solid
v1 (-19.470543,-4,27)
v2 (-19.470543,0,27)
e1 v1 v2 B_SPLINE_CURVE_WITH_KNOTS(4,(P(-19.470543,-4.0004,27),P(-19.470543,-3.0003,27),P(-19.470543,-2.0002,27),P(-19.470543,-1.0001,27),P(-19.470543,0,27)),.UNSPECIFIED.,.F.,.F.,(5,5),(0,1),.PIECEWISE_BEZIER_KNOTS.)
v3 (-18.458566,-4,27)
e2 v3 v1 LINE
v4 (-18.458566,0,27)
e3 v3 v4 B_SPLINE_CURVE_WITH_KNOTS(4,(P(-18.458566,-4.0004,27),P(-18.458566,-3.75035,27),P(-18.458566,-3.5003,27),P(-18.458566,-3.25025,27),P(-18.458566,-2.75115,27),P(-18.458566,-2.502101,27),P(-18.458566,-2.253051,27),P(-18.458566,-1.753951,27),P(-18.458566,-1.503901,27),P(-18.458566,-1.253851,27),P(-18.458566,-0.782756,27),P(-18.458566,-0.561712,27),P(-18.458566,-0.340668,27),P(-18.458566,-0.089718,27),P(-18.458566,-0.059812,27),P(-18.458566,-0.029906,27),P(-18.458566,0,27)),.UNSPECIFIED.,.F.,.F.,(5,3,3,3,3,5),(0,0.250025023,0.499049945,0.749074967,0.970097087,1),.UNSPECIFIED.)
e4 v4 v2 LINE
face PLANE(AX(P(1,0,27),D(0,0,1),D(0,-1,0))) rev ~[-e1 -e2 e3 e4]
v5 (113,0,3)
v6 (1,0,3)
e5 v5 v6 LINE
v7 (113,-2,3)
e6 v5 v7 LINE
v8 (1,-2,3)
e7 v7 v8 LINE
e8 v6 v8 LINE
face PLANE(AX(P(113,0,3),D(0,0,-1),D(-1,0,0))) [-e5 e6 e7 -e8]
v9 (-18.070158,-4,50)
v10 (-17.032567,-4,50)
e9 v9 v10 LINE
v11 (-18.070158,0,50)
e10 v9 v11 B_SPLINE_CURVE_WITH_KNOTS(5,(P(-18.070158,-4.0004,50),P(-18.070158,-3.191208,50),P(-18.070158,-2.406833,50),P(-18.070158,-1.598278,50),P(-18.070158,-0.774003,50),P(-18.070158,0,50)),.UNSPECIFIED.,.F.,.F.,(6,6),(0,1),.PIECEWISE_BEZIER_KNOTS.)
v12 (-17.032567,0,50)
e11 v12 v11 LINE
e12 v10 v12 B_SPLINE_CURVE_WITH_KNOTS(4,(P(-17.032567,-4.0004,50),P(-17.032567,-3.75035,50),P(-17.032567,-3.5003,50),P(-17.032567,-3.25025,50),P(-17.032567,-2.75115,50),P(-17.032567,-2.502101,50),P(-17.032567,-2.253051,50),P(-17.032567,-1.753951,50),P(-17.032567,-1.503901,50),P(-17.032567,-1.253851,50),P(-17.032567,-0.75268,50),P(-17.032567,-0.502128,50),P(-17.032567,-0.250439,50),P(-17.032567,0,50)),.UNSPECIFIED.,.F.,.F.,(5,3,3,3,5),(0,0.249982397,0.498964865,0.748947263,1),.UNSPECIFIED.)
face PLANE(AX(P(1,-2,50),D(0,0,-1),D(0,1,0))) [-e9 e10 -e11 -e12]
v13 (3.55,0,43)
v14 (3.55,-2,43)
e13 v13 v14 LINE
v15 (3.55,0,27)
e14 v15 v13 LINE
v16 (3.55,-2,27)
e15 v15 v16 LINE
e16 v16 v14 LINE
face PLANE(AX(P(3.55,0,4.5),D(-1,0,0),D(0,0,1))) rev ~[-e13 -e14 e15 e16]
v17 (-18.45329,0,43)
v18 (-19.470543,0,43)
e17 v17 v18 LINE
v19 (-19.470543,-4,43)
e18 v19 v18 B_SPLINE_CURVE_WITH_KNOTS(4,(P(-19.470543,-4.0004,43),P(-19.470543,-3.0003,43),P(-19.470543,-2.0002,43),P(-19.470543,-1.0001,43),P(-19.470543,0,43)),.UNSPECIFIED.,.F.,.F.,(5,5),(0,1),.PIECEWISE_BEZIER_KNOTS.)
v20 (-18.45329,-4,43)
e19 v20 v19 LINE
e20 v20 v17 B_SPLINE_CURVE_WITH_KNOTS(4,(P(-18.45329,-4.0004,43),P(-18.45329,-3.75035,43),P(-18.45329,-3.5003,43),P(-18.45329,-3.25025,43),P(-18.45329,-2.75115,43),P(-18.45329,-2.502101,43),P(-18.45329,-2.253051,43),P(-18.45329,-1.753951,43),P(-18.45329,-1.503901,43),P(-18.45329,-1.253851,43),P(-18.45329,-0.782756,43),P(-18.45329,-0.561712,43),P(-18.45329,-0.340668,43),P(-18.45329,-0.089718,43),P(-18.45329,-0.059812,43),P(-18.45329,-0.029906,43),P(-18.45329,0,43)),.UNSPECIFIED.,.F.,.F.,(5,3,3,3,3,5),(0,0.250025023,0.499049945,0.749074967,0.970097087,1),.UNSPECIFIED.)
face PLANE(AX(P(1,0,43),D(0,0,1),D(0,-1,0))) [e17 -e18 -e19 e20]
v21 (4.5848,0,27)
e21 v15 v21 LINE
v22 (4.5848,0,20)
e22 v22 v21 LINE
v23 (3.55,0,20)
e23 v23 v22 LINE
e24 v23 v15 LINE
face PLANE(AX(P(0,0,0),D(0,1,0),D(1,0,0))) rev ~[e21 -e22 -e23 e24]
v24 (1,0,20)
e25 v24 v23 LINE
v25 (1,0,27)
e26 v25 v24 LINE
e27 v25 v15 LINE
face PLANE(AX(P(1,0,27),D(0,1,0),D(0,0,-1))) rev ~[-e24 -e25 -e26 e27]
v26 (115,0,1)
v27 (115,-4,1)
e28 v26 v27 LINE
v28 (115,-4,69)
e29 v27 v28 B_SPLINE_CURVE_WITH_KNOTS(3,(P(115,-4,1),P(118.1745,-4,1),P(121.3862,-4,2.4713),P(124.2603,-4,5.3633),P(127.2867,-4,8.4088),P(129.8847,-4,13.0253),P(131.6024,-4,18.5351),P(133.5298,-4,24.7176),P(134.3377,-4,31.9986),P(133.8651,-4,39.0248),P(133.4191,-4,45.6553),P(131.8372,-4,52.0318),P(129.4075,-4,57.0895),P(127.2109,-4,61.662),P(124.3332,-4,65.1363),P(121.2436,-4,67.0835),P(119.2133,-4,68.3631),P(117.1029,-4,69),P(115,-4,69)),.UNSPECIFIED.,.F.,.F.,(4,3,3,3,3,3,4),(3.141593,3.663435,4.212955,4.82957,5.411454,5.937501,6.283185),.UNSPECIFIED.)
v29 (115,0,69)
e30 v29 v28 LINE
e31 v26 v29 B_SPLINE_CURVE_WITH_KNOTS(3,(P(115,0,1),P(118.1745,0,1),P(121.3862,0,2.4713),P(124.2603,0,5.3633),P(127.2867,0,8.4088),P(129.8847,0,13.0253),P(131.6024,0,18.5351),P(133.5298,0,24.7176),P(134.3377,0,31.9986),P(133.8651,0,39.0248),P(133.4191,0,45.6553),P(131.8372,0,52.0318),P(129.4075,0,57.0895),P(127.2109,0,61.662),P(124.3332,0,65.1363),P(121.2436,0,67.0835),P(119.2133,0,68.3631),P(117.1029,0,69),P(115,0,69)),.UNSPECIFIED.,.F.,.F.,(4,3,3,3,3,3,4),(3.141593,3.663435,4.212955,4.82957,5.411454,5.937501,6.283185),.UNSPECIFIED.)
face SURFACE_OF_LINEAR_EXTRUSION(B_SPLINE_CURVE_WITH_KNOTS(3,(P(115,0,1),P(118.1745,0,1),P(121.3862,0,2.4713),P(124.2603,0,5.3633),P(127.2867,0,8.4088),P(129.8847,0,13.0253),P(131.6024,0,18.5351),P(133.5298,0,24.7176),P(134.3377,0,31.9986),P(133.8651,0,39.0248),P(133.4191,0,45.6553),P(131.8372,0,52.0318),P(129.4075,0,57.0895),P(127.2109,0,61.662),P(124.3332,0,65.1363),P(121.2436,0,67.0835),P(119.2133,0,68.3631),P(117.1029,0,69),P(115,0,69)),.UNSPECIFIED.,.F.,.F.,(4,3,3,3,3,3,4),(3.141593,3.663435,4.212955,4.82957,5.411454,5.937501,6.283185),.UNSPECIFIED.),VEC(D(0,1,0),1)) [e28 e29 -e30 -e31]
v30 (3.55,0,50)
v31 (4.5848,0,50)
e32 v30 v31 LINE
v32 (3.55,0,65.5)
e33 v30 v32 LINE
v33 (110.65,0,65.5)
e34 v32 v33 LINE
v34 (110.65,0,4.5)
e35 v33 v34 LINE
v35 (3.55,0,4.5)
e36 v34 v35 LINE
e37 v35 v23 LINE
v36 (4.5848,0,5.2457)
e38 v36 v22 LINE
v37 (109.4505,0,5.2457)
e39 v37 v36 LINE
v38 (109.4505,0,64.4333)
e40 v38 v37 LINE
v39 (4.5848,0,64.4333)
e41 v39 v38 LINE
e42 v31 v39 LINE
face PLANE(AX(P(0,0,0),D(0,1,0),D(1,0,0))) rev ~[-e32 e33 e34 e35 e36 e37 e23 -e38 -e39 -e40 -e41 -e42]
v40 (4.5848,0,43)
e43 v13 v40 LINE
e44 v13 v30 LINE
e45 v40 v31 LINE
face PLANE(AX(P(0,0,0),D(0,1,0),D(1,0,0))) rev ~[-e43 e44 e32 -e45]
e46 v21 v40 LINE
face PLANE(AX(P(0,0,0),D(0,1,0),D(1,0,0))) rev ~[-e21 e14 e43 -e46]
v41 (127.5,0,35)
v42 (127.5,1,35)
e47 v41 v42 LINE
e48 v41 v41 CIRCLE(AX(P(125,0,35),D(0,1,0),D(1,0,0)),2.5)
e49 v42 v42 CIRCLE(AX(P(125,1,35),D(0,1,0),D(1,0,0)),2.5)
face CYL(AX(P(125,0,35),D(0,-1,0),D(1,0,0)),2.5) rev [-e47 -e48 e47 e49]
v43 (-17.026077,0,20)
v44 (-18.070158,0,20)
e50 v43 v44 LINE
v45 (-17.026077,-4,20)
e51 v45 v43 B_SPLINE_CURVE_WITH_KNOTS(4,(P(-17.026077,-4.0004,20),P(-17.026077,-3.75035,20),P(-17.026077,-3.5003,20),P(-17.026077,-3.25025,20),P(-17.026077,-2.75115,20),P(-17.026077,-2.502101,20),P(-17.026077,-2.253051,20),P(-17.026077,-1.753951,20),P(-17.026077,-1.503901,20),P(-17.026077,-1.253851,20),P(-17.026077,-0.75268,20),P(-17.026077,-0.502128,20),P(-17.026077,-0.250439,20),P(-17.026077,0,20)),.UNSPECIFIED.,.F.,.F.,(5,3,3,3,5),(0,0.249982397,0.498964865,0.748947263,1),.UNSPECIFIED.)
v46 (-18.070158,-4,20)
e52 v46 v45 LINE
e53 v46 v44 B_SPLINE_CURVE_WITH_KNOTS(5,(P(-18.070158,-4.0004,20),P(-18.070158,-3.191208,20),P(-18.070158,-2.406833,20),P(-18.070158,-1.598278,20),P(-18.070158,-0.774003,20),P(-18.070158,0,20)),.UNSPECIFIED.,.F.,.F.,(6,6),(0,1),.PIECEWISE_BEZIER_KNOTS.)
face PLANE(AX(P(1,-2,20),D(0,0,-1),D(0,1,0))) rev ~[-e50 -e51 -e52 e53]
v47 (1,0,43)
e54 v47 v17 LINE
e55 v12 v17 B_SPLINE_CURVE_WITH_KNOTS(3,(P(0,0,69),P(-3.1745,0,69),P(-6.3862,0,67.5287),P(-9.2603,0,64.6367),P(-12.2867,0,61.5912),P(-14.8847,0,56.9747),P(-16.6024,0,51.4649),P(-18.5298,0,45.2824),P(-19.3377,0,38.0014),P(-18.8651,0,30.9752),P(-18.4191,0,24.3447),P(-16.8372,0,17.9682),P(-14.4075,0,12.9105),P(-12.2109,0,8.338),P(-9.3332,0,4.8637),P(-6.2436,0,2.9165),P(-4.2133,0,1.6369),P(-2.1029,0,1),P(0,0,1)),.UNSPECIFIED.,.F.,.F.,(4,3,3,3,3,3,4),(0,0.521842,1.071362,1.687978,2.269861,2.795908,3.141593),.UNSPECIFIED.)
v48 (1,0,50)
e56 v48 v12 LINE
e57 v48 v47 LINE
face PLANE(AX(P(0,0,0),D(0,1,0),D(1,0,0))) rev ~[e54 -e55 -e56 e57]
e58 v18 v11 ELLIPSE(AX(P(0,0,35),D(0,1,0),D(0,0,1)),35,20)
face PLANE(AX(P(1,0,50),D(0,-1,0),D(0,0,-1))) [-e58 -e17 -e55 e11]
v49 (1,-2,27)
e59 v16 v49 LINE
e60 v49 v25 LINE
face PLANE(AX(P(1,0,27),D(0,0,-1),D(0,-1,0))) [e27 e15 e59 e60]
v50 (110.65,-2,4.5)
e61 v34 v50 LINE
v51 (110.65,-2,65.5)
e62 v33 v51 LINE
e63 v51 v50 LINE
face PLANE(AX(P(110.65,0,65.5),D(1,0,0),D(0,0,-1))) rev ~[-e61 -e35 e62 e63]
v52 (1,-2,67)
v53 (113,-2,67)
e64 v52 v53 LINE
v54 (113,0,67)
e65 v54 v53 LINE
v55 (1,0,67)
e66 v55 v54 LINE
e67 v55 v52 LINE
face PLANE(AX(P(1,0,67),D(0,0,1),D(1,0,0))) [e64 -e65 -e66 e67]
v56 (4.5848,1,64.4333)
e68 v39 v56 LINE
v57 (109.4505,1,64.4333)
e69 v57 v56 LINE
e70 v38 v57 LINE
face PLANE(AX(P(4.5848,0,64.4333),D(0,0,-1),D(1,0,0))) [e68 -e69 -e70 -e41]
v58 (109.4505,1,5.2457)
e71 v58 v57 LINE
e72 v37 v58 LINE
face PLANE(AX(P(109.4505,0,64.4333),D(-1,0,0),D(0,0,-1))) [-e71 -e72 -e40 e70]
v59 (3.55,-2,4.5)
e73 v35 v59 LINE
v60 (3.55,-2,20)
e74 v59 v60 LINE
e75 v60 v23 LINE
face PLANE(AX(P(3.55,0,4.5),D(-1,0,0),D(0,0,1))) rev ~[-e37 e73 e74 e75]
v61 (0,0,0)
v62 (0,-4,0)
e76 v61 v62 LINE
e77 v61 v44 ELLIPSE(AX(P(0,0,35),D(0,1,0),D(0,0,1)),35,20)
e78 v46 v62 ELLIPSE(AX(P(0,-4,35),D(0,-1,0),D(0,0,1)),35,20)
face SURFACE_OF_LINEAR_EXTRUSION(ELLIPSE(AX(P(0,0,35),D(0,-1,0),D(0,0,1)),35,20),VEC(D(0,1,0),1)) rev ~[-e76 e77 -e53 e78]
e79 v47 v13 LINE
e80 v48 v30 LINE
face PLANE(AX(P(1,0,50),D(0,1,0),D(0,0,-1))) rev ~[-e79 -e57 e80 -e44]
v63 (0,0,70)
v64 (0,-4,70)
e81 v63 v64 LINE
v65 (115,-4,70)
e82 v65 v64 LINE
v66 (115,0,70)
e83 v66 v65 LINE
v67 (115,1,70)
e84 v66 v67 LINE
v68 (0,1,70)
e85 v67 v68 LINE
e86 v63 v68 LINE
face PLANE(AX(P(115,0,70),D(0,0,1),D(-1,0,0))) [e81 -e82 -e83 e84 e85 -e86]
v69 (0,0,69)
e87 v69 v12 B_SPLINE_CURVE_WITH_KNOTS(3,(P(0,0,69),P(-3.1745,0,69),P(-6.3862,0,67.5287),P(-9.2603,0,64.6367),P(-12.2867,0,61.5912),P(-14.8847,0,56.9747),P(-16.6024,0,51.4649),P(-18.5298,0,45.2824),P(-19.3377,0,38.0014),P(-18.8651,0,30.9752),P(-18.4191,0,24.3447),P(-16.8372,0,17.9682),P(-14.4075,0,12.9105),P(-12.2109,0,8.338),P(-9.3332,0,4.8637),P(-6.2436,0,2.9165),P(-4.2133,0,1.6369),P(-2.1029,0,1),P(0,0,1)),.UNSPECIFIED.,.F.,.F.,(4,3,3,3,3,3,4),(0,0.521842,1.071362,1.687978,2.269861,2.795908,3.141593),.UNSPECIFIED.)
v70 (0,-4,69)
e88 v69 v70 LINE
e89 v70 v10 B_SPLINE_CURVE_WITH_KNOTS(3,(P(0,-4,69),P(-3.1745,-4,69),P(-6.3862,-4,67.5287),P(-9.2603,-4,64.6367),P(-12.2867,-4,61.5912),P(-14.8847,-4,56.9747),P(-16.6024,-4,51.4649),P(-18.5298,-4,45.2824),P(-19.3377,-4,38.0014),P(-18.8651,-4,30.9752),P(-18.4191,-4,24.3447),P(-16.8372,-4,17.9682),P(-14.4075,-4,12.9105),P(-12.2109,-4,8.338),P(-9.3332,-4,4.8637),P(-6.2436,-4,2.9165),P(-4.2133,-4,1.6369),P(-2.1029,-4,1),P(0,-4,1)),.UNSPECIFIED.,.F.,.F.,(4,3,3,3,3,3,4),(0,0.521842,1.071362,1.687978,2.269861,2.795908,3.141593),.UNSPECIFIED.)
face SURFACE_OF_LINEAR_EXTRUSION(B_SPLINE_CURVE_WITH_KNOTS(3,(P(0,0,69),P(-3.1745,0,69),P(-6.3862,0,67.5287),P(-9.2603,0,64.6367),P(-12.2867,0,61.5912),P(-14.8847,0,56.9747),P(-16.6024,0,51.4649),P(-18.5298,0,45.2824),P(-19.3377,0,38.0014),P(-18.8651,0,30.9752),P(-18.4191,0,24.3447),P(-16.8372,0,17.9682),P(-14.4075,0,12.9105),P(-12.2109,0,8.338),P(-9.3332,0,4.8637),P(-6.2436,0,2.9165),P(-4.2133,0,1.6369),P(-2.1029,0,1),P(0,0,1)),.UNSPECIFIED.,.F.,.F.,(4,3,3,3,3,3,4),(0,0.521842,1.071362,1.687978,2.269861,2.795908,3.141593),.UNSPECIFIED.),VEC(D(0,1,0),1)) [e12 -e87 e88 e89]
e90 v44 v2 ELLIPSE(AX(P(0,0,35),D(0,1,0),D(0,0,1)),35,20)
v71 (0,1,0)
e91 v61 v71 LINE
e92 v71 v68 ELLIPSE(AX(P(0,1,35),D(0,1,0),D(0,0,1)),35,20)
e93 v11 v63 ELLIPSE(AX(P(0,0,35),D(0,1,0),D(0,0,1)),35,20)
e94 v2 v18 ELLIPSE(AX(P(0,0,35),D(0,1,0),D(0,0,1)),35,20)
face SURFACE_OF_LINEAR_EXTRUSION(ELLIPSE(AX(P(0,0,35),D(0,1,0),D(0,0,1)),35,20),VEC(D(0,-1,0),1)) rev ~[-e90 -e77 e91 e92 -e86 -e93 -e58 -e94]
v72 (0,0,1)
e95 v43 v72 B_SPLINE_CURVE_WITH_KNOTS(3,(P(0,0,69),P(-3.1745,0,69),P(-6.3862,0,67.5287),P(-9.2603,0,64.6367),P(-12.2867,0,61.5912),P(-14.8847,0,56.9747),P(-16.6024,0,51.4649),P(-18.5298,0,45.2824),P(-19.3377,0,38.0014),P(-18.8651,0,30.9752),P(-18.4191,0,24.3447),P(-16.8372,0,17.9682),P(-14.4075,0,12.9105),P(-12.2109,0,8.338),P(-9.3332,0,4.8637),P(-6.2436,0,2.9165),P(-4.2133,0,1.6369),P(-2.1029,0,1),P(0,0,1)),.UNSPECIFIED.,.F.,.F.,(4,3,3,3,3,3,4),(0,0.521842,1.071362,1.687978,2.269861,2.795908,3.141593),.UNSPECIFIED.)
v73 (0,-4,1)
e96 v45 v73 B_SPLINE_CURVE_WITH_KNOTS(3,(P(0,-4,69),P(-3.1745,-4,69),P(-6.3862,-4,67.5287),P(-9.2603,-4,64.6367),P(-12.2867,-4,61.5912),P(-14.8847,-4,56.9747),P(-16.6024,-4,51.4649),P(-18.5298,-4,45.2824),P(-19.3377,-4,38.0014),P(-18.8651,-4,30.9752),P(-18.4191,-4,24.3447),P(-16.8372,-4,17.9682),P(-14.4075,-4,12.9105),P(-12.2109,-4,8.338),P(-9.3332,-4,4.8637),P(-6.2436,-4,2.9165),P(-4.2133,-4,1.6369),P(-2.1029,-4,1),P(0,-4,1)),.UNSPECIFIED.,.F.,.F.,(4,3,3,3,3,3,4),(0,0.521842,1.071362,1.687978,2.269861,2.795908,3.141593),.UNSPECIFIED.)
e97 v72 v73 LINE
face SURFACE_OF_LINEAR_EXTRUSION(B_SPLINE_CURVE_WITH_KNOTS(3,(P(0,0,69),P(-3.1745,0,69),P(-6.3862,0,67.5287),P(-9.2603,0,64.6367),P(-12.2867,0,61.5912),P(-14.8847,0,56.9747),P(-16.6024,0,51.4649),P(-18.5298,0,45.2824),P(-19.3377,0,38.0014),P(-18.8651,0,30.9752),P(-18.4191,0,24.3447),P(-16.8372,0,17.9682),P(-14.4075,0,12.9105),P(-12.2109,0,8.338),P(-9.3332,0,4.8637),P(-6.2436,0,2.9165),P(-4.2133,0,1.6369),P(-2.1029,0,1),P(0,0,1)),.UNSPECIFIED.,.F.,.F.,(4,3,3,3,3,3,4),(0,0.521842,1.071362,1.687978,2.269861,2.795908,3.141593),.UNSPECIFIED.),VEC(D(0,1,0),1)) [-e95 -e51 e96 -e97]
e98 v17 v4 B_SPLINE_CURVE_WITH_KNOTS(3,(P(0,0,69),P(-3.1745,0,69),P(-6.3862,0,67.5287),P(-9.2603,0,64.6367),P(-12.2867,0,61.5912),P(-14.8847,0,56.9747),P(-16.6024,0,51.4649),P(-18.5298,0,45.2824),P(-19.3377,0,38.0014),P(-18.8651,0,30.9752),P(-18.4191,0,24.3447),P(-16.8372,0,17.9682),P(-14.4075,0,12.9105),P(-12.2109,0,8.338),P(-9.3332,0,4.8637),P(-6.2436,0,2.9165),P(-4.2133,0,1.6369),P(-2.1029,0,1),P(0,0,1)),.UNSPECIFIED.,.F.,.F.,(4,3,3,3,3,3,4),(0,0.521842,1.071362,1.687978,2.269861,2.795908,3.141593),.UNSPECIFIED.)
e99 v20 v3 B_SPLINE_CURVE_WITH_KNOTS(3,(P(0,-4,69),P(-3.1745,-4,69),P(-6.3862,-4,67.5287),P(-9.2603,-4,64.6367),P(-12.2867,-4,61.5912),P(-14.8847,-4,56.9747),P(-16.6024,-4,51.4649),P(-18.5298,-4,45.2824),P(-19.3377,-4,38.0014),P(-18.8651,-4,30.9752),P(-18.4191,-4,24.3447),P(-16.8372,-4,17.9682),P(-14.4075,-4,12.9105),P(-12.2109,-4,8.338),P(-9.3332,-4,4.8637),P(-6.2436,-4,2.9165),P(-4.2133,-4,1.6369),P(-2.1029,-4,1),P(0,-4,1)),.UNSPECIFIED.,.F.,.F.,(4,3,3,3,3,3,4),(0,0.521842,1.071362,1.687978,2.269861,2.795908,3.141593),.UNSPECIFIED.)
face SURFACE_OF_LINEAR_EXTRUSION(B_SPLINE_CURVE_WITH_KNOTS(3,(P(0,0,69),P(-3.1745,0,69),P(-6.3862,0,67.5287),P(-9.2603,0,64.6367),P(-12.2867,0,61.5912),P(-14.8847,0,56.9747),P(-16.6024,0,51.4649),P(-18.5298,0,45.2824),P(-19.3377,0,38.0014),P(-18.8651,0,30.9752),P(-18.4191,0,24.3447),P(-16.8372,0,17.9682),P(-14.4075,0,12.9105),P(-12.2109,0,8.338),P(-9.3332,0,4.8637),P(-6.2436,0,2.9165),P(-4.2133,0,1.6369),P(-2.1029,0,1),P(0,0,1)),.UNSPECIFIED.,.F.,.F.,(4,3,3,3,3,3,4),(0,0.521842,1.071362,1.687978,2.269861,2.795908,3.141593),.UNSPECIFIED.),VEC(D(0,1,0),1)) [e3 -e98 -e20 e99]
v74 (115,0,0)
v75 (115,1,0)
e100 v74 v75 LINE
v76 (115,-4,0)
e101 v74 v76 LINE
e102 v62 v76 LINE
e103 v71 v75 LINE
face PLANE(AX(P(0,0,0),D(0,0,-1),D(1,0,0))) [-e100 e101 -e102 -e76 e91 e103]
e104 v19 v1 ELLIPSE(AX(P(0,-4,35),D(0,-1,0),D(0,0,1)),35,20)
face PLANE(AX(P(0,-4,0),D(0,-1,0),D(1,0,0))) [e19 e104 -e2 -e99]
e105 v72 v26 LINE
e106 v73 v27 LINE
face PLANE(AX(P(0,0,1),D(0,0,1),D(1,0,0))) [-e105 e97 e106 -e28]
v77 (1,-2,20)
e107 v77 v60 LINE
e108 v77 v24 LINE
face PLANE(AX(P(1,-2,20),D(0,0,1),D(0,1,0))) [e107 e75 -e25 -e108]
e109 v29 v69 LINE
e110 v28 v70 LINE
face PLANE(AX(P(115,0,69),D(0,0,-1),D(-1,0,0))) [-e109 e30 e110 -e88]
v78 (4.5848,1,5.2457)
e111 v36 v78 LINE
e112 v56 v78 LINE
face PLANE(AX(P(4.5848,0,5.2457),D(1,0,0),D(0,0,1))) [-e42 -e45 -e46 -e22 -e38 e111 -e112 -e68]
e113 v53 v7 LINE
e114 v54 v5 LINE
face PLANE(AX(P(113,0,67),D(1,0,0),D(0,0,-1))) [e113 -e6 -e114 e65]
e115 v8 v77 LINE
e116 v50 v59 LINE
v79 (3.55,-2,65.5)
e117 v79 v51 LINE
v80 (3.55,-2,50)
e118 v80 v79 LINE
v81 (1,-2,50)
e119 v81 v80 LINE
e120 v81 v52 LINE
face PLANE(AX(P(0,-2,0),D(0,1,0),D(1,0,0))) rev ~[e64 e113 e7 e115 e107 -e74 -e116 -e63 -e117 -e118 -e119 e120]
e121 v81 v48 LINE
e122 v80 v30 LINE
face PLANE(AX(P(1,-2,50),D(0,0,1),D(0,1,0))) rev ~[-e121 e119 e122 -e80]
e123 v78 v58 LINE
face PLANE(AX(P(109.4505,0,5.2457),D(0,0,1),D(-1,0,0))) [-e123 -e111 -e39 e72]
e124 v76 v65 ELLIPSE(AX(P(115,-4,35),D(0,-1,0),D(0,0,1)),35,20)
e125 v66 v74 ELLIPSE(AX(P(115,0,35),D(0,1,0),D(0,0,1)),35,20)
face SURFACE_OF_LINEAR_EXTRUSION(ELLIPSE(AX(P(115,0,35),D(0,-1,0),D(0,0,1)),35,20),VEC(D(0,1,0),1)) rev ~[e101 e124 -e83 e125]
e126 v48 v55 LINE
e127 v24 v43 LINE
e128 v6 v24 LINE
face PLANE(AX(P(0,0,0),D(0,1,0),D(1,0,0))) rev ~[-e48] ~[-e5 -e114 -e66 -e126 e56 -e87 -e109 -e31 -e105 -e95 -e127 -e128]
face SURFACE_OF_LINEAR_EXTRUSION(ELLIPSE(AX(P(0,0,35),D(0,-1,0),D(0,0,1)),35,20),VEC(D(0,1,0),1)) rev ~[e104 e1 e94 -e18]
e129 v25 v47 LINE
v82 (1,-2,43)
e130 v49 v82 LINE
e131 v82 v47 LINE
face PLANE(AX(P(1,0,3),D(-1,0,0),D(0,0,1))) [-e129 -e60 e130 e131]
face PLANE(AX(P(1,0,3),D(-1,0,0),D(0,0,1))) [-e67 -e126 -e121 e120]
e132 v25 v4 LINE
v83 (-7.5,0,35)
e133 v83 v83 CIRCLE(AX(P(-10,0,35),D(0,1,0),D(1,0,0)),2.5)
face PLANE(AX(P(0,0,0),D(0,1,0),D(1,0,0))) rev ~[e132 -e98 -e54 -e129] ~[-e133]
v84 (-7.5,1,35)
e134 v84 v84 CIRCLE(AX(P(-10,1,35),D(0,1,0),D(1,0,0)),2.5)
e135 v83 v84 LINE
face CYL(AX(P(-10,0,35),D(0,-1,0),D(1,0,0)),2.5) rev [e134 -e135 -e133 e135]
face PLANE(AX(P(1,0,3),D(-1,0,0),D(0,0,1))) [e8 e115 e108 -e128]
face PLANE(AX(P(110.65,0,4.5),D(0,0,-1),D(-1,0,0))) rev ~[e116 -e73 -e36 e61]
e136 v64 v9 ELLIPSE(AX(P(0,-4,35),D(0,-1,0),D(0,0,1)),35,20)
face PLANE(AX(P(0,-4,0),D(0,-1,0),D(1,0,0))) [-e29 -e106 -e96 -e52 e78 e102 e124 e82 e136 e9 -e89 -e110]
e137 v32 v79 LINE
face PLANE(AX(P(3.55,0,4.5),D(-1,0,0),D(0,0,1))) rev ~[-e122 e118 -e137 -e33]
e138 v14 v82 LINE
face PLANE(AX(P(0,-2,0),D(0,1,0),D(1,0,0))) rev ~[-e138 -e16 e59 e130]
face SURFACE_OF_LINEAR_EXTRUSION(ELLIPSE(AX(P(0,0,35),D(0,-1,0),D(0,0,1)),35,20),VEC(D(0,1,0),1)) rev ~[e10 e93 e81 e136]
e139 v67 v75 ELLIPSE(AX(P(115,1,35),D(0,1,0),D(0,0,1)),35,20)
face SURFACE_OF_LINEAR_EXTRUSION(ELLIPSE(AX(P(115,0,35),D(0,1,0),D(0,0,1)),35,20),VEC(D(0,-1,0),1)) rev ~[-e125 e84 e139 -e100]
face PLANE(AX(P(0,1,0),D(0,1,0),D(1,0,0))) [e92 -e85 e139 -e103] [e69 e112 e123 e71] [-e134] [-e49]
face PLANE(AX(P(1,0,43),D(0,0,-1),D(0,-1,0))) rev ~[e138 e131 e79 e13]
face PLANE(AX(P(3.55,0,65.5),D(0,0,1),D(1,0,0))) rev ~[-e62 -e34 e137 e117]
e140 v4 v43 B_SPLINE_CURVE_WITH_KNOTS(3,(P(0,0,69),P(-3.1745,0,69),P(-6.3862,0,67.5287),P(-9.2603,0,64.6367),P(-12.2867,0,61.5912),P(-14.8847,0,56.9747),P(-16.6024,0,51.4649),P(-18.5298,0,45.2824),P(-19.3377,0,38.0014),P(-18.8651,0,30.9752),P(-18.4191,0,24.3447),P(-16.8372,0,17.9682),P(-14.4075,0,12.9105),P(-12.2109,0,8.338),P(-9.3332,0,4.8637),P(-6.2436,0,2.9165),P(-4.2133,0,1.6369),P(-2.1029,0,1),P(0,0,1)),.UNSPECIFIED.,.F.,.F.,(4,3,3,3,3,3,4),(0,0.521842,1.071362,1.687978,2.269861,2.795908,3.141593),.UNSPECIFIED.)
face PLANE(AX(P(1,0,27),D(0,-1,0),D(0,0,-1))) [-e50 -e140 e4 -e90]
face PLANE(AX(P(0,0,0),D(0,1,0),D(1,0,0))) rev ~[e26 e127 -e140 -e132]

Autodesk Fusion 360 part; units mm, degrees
sketch "Sketch1" plane through (0, 0, 0) normal (0, 1, 0) x (1, 0, 0)
  line L0 (0, 0) -> (115, 0)
  line L1 (115, -70) -> (0, -70)
  ellipse E0 centre (0, -35) end of major axis (0, -70) minor radius 20 (0, 0) -> (0, -70) ccw
  ellipse E1 centre (115, -35) end of major axis (115, -70) minor radius 20 (115, -70) -> (115, 0) ccw
  circle A0 centre (-10, -35) radius 2.5
  circle A1 centre (125, -35) radius 2.5
  dimension "d1" = 20
  dimension "d2" = 5
  dimension "d3" = 10
extrude "Extrude1" add sketch "Sketch1" along normal blind 1
sketch "Sketch3" plane through (0, 0, 0) normal (0, -1, 0) x (1, 0, 0)
  circle A0 centre (-10, 35) radius 2.5
  circle A1 centre (125, 35) radius 2.5
  ellipse E0 centre (0, 35) end of major axis (0, 70) minor radius 20 (0, 70) -> (0, 0) ccw
  line L0 (0, 0) -> (115, 0)
  ellipse E1 centre (115, 35) end of major axis (115, 70) minor radius 20 (115, 0) -> (115, 70) ccw
  line L1 (115, 70) -> (0, 70)
  line L2 (0, 1) -> (115, 1)
  spline S0 degree 3 poles (115, 1) (118.1745, 1) (121.3862, 2.4713) (124.2603, 5.3633) (127.2867, 8.4088) (129.8847, 13.0253) (131.6024, 18.5351) (133.5298, 24.7176) (134.3377, 31.9986) (133.8651, 39.0248) (133.4191, 45.6553) (131.8372, 52.0318) (129.4075, 57.0895) (127.2109, 61.662) (124.3332, 65.1363) (121.2436, 67.0835) (119.2133, 68.3631) (117.1029, 69) (115, 69) knots 3.141593 3.141593 3.141593 3.141593 3.663435 3.663435 3.663435 4.212955 4.212955 4.212955 4.82957 4.82957 4.82957 5.411454 5.411454 5.411454 5.937501 5.937501 5.937501 6.283185 6.283185 6.283185 6.283185
  line L3 (115, 69) -> (0, 69)
  spline S1 degree 3 poles (0, 69) (-3.1745, 69) (-6.3862, 67.5287) (-9.2603, 64.6367) (-12.2867, 61.5912) (-14.8847, 56.9747) (-16.6024, 51.4649) (-18.5298, 45.2824) (-19.3377, 38.0014) (-18.8651, 30.9752) (-18.4191, 24.3447) (-16.8372, 17.9682) (-14.4075, 12.9105) (-12.2109, 8.338) (-9.3332, 4.8637) (-6.2436, 2.9165) (-4.2133, 1.6369) (-2.1029, 1) (0, 1) knots 0 0 0 0 0.521842 0.521842 0.521842 1.071362 1.071362 1.071362 1.687978 1.687978 1.687978 2.269861 2.269861 2.269861 2.795908 2.795908 2.795908 3.141593 3.141593 3.141593 3.141593
  dimension "d6" = -1
extrude "Extrude2" add sketch "Sketch3" along normal blind 4 contours E0 L0 E1 L1
sketch "Sketch4" plane through (0, 0, 0) normal (0, 1, 0) x (1, 0, 0)
  line L0 (3.55, -65.5) -> (110.65, -65.5)
  line L1 (110.65, -65.5) -> (110.65, -4.5)
  line L2 (110.65, -4.5) -> (3.55, -4.5)
  line L3 (3.55, -4.5) -> (3.55, -65.5)
  line L4 (115, -1) -> (0, -1)
  line L5 (1, -67) -> (113, -67)
  line L6 (113, -67) -> (113, -3)
  line L7 (113, -3) -> (1, -3)
  line L8 (1, -3) -> (1, -67)
  point P0 (0, -35)
  dimension "d9" = 61
  dimension "d10" = 107.1
  dimension "d11" = 3.55
  dimension "d12" = 3.5
extrude "Extrude3" add sketch "Sketch4" against normal blind 2
sketch "Sketch5" plane through (0, 0, 0) normal (0, 1, 0) x (-1, 0, 0)
  line L0 (-4.5848, 64.4333) -> (-109.4505, 64.4333)
  line L1 (-109.4505, 64.4333) -> (-109.4505, 5.2457)
  line L2 (-109.4505, 5.2457) -> (-4.5848, 5.2457)
  line L3 (-4.5848, 5.2457) -> (-4.5848, 64.4333)
extrude "Extrude4" cut sketch "Sketch5" along normal blind 10
sketch "Sketch6" plane through (1, 0, 0) normal (-1, 0, 0) x (0, -1, 0)
  line L0 (0, 67) -> (0, 3)
  line L1 (0, 3) -> (2, 3)
  line L2 (2, 3) -> (2, 67)
  line L3 (2, 67) -> (0, 67)
  line L4 (-3, 27) -> (6, 27)
  line L5 (6, 27) -> (6, 20)
  line L6 (6, 20) -> (-3, 20)
  line L7 (-3, 20) -> (-3, 27)
  line L8 (0, 35) -> (9, 35)
  line L9 (-3, 43) -> (6, 43)
  line L10 (6, 43) -> (6, 50)
  line L11 (6, 50) -> (-3, 50)
  line L12 (-3, 50) -> (-3, 43)
extrude "Extrude5" cut sketch "Sketch6" along normal blind 30 contours L0 L2 L9 L11 | L2 L9 L10 L11
extrude "Extrude6" cut sketch "Sketch6" against normal blind 9 contours L0 L2 L9 L11 | L2 L9 L10 L11
extrude "Extrude7" cut sketch "Sketch6" along normal blind 30 contours L0 L2 L4 L6 | L2 L4 L5 L6
extrude "Extrude8" cut sketch "Sketch6" against normal blind 10 contours L0 L2 L4 L6 | L2 L4 L5 L6
